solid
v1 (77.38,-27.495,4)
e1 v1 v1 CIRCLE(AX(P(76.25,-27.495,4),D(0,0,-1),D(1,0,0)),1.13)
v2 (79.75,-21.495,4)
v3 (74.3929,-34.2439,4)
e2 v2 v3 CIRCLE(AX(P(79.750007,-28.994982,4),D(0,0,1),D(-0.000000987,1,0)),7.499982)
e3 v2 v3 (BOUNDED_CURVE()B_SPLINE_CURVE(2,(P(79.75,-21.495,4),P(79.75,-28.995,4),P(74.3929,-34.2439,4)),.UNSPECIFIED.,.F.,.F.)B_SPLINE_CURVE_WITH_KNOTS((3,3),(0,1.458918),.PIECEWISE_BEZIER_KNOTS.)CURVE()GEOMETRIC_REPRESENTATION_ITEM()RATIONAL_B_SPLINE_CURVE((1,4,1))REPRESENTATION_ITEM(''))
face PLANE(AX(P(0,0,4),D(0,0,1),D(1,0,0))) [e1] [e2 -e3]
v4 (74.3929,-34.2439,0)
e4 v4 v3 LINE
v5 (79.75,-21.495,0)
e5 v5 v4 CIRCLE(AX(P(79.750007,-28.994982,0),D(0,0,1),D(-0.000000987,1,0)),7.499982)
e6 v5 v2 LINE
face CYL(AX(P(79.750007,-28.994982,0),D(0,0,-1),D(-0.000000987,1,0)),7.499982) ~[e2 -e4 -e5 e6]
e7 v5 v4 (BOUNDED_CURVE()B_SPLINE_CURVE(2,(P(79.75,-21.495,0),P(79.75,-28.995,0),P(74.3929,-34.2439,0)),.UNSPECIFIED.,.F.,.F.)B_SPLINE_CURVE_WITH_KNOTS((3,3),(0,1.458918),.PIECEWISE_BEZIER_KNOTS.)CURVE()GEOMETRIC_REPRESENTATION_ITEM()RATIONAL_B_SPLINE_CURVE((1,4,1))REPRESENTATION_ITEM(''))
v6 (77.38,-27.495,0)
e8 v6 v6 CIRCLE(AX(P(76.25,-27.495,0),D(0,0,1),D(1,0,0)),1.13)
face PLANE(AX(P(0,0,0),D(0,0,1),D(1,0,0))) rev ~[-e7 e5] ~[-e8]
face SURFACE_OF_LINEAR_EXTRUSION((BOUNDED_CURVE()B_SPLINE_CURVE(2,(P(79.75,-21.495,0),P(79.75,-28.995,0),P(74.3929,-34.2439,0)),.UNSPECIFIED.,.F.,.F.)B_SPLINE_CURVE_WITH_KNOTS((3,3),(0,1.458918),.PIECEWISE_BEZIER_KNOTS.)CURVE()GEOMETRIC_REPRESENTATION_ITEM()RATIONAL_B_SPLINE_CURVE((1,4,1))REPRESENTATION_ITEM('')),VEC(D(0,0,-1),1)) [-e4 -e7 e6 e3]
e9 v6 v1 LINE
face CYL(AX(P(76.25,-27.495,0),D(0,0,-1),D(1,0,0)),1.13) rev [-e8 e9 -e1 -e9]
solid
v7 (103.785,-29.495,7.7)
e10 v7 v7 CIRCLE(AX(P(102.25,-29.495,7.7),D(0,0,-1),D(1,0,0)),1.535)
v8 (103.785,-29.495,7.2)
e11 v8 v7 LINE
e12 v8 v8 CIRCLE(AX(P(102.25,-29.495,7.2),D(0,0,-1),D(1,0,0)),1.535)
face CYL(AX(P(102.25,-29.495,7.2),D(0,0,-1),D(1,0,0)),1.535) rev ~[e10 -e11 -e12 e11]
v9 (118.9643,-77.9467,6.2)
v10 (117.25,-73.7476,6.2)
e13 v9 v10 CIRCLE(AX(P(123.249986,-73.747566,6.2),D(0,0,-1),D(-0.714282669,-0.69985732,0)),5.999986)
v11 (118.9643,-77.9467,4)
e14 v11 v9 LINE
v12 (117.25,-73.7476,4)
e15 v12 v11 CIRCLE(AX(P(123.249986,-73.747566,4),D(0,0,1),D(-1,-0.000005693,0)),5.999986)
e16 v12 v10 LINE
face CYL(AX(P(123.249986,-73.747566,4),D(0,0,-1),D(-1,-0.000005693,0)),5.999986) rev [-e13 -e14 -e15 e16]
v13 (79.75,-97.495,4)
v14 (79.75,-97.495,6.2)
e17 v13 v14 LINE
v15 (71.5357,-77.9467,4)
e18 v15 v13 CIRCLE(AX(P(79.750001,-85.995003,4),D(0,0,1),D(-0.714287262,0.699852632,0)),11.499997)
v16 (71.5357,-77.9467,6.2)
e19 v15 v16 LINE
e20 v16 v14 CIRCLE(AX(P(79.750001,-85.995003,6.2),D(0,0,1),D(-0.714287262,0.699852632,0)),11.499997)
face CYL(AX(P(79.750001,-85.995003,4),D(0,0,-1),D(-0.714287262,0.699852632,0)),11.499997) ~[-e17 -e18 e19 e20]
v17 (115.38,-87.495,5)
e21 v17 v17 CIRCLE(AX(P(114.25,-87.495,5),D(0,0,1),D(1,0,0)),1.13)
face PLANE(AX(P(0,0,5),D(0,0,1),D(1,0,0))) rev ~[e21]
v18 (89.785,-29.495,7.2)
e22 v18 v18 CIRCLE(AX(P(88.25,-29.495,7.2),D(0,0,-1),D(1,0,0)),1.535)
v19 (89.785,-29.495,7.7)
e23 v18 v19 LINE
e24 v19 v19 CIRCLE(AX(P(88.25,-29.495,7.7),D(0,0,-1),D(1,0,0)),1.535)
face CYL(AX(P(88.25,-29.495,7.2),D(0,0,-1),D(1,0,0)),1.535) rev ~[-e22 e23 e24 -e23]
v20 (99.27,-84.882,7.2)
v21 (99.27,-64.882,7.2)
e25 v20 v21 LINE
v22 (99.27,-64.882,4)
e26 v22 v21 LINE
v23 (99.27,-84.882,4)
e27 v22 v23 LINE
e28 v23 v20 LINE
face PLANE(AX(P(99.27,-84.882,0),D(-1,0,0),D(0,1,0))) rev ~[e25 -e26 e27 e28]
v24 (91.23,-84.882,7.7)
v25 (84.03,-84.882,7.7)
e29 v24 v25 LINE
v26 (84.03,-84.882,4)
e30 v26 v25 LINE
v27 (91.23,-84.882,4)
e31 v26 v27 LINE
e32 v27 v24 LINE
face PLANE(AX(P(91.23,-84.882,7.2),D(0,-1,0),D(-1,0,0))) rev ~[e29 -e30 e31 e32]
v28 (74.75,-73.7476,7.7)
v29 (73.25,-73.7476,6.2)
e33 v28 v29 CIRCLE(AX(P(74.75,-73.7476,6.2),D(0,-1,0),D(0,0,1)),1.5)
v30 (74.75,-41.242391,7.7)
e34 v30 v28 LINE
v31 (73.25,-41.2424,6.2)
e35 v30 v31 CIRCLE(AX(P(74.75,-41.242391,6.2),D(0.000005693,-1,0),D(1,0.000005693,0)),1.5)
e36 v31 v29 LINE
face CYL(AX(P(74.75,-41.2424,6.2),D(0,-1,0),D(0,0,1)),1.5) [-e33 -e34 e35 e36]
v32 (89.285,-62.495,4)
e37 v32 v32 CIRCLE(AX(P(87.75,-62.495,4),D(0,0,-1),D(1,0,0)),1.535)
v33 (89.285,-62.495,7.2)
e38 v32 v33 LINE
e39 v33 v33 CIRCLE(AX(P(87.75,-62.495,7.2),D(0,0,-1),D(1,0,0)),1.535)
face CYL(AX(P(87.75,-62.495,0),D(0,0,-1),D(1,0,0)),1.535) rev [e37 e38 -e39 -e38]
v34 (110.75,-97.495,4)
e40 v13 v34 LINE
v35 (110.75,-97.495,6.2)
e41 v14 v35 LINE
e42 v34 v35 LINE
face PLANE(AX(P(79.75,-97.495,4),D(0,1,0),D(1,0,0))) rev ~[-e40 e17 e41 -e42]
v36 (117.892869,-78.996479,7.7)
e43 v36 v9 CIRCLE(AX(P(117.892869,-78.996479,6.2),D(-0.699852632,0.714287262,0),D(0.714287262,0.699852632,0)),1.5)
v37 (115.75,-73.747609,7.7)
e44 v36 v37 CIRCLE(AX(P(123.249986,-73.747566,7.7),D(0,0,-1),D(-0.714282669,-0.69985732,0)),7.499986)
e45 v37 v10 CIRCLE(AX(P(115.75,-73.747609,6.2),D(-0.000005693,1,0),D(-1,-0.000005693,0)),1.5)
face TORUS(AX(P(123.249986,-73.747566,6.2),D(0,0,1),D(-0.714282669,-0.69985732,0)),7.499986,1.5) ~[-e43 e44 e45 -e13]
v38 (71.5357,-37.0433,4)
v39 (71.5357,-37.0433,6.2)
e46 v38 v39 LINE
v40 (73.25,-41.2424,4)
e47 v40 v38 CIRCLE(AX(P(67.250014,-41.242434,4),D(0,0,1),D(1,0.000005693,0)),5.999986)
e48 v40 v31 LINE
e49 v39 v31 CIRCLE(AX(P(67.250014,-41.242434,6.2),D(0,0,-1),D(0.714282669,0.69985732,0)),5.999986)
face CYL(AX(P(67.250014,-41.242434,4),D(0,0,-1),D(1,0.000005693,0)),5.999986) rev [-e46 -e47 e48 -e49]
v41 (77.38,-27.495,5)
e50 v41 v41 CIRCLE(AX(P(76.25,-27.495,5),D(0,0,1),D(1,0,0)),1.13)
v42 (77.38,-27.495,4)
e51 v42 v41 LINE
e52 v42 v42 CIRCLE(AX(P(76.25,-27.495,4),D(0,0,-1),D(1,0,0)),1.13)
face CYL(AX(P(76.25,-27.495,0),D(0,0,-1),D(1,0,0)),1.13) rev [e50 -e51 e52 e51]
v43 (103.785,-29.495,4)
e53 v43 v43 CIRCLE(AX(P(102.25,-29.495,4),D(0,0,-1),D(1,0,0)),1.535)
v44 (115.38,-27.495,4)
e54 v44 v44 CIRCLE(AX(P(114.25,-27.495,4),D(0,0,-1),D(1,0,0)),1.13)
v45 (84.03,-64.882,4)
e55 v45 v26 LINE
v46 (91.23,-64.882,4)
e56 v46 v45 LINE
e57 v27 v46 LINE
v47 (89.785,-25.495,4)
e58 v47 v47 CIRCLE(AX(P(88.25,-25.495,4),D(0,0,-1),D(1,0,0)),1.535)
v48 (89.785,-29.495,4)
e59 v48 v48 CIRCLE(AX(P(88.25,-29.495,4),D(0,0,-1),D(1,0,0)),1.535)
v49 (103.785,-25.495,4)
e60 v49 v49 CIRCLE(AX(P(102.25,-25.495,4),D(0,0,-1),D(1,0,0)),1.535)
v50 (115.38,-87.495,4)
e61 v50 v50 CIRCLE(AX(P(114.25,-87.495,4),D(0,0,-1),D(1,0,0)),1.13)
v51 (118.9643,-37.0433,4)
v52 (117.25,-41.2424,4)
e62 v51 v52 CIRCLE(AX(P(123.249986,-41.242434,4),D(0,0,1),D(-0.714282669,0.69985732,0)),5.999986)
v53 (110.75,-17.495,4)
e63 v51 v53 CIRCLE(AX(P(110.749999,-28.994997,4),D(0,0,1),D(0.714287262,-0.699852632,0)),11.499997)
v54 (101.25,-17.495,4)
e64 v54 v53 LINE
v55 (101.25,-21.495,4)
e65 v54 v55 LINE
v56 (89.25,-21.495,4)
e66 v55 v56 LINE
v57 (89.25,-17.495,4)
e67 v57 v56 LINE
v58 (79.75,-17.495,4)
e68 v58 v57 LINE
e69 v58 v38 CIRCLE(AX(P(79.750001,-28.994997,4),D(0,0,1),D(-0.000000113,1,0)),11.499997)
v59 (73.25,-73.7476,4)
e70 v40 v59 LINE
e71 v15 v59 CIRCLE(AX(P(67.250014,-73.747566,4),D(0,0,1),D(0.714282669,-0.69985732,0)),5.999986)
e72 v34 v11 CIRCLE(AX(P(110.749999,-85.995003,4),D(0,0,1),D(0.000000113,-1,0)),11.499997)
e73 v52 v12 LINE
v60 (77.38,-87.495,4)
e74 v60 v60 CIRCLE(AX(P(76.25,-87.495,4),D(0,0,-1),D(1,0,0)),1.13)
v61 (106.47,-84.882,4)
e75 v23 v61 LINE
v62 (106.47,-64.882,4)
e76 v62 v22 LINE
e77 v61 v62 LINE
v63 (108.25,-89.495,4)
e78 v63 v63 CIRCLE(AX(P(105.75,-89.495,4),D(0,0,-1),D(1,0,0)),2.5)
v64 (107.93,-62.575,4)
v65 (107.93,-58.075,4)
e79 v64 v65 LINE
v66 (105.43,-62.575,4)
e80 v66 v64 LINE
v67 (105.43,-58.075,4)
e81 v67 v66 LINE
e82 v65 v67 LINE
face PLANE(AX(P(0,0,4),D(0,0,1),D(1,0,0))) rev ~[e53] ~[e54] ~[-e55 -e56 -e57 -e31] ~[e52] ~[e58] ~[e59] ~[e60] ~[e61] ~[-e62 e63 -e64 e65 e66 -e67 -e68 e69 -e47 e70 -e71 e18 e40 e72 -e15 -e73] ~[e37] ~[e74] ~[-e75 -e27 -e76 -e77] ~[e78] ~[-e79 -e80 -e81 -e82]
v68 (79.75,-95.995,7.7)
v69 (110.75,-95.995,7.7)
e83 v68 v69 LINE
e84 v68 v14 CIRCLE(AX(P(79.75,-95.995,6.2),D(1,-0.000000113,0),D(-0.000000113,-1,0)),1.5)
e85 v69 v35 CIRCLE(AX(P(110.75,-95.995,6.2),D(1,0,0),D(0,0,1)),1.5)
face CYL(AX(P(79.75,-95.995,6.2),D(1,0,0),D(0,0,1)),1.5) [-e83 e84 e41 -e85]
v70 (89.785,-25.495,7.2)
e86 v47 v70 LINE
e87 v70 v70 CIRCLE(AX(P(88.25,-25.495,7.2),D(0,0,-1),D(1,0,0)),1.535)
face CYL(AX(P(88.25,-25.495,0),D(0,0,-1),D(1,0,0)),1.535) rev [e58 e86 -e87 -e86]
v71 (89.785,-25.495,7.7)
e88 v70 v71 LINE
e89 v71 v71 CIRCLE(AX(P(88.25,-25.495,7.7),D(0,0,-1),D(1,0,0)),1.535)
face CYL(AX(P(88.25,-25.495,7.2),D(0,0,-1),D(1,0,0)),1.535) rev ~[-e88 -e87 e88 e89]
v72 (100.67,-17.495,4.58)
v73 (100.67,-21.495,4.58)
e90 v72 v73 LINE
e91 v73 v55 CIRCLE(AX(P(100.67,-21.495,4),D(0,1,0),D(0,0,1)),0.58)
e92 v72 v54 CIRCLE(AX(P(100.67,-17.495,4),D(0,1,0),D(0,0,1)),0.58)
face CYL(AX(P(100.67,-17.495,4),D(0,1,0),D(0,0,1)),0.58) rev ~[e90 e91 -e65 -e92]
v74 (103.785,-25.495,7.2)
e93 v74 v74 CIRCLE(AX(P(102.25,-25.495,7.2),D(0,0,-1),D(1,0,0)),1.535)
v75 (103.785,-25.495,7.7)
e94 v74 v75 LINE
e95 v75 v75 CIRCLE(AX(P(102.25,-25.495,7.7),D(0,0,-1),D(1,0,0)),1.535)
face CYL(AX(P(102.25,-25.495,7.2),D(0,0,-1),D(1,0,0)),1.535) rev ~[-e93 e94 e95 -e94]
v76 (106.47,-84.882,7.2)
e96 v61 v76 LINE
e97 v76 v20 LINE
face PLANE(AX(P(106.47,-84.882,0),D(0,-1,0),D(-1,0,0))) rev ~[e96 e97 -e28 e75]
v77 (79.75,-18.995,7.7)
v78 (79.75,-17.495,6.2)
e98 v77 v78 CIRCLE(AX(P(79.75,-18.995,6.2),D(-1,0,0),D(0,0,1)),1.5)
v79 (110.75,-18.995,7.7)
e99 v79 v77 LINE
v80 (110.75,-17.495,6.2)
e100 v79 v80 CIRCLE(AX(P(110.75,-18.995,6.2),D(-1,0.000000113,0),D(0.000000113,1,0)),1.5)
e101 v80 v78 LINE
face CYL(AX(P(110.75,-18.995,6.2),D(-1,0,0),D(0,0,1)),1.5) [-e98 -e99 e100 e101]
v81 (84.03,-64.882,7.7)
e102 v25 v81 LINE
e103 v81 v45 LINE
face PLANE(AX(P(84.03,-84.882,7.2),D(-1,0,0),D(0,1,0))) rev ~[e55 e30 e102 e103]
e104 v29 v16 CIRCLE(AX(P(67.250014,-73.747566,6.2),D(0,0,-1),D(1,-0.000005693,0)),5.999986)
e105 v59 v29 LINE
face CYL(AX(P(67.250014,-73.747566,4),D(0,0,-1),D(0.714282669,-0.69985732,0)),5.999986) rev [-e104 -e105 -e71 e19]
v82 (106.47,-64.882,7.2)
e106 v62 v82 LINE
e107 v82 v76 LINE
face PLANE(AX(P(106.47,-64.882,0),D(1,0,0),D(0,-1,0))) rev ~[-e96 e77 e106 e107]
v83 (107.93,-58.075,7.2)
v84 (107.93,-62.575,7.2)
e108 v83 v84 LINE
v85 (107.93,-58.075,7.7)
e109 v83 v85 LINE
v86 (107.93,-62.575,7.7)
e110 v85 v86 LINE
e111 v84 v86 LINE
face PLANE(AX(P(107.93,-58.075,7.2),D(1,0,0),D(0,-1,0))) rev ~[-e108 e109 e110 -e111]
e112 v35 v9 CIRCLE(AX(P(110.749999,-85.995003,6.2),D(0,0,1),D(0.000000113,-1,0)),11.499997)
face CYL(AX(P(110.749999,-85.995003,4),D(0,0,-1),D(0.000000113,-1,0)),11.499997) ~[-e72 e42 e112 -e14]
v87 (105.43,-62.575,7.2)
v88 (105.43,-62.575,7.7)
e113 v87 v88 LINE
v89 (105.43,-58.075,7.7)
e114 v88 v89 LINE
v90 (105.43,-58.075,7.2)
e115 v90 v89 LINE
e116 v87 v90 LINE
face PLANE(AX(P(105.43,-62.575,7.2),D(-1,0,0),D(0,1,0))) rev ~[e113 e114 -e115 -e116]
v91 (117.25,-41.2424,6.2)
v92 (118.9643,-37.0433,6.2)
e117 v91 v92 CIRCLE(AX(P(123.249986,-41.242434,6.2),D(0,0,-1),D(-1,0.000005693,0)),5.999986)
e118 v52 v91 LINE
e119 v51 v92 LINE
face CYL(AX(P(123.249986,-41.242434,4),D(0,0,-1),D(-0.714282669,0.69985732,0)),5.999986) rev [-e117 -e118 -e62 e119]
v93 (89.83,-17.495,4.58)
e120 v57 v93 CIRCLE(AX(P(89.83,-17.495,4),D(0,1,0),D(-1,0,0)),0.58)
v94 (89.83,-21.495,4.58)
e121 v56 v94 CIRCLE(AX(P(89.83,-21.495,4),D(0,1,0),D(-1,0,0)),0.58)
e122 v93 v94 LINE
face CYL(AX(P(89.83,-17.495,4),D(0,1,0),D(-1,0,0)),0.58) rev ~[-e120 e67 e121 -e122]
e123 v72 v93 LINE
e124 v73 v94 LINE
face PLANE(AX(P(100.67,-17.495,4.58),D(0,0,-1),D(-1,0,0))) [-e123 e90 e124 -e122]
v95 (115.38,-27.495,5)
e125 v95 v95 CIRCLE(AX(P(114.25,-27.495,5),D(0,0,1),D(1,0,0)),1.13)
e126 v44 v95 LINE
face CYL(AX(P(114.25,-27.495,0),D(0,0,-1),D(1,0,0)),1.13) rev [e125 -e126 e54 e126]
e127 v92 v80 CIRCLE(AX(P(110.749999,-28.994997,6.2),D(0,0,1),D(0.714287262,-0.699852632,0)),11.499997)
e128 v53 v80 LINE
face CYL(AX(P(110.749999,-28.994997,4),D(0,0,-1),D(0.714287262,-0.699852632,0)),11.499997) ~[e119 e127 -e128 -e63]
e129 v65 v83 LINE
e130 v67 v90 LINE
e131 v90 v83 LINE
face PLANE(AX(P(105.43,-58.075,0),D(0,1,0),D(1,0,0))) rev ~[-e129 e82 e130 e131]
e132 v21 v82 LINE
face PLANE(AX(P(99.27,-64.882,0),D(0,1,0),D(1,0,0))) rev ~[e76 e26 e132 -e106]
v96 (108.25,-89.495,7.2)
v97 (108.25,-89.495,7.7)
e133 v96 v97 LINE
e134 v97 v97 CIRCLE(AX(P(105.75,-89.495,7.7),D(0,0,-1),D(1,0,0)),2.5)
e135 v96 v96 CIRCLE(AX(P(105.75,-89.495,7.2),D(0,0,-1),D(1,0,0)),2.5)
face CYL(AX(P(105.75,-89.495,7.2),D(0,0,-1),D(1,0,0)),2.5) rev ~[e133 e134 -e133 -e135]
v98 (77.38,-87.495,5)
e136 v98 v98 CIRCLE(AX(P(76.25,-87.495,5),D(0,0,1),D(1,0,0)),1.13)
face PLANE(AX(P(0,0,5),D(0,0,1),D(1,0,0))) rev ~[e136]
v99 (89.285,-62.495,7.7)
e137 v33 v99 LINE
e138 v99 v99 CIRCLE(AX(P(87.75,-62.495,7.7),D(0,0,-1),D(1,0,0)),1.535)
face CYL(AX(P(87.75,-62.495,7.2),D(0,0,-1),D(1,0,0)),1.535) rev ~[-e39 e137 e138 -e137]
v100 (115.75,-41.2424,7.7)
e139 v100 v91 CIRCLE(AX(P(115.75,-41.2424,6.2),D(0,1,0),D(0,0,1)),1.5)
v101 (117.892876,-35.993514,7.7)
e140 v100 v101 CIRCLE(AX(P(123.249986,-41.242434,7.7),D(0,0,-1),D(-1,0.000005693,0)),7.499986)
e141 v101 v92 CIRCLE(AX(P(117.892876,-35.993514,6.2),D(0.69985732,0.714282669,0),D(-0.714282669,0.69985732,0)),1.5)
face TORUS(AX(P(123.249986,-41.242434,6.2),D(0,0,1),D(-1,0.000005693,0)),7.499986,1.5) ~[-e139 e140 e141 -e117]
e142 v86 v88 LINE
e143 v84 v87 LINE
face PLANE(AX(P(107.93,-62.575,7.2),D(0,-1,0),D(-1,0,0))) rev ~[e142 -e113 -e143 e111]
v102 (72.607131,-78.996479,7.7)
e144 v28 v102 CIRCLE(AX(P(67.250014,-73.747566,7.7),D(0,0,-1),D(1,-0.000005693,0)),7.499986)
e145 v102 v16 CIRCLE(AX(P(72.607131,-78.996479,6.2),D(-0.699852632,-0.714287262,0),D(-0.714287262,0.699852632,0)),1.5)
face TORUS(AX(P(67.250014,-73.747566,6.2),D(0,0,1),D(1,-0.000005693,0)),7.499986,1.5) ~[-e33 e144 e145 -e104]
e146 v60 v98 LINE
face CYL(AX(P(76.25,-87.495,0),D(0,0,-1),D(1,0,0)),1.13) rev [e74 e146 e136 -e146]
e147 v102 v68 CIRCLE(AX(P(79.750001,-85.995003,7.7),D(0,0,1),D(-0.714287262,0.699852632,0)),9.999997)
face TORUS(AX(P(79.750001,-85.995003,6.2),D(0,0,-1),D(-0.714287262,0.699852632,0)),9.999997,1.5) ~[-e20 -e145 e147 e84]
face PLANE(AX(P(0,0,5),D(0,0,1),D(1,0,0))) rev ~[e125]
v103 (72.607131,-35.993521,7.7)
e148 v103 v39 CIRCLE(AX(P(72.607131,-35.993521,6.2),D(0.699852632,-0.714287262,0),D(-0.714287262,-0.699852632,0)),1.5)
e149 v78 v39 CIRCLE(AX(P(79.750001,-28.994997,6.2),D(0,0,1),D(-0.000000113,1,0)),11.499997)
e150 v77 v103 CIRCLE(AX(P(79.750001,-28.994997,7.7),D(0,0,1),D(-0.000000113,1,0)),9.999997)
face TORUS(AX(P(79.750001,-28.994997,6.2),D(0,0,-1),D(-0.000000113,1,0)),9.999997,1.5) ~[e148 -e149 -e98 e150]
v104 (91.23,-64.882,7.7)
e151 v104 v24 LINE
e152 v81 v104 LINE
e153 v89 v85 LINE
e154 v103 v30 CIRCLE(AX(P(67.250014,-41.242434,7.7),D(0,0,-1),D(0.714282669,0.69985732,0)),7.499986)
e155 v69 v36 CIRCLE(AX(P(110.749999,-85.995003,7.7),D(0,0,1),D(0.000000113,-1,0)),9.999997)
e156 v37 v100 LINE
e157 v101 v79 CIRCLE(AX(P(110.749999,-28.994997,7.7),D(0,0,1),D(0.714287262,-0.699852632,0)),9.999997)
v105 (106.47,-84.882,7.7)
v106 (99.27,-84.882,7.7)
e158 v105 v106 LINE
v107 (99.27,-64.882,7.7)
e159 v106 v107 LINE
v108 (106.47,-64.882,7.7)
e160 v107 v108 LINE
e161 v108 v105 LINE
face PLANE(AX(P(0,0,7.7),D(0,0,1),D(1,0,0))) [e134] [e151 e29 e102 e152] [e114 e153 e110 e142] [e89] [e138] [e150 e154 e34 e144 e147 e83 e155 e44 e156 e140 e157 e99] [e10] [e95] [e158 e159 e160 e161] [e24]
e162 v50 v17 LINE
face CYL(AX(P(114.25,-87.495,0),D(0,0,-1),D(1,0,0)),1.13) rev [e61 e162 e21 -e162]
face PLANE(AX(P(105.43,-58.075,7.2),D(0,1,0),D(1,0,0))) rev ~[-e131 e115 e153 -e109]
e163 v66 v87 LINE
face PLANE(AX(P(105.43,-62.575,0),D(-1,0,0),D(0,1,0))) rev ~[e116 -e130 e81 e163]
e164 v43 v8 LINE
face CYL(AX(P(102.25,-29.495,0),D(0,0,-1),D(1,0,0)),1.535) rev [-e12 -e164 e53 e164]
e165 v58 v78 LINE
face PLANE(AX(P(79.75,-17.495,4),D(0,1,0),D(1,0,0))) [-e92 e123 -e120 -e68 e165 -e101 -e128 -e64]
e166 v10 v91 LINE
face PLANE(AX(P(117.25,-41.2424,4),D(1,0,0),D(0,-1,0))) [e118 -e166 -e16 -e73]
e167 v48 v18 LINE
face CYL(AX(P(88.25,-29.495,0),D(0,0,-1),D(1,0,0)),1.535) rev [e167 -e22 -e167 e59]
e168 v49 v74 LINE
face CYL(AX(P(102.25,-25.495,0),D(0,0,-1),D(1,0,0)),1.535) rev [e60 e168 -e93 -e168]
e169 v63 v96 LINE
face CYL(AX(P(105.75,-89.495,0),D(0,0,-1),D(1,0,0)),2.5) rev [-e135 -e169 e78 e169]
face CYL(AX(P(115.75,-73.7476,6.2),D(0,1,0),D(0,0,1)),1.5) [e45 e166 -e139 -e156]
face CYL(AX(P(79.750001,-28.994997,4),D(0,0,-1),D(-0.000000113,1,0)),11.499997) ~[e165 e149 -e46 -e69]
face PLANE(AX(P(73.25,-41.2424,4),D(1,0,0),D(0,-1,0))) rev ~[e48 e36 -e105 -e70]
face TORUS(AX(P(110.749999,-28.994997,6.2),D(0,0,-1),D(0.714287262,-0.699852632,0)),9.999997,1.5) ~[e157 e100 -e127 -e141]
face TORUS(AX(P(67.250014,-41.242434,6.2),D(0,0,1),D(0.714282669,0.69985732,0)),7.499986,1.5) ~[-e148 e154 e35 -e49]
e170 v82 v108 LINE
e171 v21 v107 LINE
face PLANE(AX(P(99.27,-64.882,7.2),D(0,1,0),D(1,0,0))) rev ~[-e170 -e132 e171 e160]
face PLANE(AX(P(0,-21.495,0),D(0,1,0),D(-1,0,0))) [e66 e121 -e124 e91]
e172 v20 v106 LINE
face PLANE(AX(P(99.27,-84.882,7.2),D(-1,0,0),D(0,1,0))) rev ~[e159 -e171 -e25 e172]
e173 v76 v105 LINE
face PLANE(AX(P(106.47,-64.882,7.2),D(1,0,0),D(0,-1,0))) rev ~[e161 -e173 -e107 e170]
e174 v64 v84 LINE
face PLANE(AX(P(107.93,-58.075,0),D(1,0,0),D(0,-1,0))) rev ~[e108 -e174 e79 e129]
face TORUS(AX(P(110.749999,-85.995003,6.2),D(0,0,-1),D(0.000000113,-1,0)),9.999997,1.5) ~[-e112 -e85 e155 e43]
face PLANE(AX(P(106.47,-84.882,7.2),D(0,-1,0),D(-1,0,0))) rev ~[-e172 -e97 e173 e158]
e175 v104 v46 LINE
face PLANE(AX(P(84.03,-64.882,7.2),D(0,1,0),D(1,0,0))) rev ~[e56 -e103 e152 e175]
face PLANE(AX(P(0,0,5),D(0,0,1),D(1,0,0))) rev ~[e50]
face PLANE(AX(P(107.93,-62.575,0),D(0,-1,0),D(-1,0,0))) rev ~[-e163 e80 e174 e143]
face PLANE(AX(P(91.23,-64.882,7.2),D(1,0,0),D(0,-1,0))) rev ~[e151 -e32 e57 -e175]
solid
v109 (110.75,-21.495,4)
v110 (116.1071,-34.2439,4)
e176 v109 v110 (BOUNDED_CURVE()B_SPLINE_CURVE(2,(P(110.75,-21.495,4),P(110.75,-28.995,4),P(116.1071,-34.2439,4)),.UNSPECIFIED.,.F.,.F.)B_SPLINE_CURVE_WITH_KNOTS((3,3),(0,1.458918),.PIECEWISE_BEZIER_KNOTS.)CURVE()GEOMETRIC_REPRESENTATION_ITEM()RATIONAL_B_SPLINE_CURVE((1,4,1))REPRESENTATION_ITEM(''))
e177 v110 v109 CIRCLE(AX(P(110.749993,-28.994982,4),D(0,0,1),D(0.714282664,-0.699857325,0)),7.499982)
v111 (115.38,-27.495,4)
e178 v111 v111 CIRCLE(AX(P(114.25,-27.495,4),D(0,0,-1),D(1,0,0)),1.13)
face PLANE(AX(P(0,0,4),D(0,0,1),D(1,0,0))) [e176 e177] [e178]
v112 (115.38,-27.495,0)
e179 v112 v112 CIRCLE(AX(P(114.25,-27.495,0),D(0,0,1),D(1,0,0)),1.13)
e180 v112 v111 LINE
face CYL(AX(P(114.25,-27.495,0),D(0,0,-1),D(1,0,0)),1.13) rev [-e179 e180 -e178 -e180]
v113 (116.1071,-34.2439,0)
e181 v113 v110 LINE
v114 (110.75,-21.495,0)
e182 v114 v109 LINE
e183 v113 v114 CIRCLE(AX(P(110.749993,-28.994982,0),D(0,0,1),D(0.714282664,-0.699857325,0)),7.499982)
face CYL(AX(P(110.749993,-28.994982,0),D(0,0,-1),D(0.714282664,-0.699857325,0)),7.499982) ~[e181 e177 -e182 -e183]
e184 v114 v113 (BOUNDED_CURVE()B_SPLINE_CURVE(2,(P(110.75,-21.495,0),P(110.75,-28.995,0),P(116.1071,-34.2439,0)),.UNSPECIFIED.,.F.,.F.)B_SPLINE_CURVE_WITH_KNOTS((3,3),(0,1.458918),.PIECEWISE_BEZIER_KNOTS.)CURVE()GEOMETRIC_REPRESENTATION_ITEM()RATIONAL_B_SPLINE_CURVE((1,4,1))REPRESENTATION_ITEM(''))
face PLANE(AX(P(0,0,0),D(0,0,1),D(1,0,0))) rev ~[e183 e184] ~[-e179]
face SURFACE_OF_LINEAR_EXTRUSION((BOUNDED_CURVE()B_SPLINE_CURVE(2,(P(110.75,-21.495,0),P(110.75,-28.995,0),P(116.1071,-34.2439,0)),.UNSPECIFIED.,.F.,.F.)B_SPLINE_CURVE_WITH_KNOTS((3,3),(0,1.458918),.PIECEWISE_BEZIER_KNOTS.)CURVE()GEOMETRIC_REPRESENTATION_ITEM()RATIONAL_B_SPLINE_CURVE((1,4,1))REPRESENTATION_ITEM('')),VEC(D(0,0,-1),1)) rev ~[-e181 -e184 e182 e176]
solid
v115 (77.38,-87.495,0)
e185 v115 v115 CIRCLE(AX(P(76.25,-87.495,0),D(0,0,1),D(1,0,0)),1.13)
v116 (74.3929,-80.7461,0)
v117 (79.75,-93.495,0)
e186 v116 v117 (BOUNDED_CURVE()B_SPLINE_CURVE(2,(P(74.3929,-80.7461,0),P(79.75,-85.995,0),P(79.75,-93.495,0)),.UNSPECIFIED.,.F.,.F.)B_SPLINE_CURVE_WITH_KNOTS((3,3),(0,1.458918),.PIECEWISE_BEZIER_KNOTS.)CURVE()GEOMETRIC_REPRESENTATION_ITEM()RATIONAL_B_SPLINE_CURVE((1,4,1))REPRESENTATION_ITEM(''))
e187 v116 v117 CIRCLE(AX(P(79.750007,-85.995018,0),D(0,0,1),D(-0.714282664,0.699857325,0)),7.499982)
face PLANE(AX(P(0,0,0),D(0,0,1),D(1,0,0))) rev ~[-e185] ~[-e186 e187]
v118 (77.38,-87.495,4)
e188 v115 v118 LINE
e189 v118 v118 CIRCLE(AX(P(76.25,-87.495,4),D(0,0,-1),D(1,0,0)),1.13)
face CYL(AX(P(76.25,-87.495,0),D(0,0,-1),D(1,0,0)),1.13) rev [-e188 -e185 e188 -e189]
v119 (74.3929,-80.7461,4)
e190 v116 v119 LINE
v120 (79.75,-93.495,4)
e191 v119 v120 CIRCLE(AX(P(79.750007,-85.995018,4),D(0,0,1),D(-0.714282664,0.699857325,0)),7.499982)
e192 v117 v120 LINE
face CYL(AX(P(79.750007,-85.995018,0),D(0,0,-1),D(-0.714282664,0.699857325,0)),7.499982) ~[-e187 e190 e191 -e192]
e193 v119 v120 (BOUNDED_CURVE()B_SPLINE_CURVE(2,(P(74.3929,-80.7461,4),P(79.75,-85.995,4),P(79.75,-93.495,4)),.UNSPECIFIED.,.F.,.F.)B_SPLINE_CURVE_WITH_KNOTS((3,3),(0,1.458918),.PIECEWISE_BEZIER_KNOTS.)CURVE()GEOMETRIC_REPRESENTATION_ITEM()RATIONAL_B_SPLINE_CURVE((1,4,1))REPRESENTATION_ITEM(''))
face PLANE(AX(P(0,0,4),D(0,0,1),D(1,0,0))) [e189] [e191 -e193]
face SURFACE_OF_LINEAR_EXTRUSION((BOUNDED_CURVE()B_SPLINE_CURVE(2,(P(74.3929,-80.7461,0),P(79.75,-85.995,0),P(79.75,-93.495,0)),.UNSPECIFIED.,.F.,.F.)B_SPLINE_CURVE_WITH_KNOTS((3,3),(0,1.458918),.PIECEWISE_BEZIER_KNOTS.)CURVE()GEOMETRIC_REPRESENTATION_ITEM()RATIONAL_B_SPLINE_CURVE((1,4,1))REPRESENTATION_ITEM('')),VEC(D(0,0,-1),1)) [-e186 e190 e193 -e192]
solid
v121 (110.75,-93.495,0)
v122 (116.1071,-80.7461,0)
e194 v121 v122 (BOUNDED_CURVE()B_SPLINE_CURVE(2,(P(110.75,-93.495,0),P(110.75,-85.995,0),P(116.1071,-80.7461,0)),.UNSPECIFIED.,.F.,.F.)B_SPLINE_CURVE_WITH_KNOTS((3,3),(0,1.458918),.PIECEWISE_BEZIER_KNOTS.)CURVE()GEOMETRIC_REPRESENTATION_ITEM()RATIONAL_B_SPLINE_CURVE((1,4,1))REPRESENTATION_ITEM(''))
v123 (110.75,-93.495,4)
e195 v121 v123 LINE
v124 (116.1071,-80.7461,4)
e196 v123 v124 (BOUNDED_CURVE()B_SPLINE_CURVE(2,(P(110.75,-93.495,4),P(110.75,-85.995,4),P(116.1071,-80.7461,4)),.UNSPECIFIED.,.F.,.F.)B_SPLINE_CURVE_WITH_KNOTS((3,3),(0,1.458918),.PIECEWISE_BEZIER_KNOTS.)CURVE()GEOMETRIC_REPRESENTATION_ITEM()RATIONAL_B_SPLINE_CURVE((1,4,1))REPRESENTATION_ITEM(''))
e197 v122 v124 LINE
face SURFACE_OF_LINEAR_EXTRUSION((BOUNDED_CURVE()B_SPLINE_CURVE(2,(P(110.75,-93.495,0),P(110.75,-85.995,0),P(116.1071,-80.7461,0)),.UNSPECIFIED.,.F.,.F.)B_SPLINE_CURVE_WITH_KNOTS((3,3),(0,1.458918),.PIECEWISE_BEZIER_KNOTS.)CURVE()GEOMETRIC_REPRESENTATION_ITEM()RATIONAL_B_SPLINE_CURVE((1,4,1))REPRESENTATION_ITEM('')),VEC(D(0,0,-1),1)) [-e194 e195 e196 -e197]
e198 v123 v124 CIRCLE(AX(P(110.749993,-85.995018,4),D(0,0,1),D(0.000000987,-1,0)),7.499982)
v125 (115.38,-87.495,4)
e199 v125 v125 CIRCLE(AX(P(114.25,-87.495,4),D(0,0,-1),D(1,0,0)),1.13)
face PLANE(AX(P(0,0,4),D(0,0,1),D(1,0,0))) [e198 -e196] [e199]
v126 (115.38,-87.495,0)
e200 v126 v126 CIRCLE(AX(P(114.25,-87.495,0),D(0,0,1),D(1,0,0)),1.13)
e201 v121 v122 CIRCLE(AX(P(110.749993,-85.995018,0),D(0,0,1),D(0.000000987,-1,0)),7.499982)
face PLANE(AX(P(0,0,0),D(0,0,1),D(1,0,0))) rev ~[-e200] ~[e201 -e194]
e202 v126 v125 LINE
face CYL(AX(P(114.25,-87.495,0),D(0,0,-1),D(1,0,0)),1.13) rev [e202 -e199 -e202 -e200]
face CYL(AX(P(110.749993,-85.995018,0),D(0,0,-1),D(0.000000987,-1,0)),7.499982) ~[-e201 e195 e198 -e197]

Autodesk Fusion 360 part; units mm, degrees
sketch "drawing" plane through (0, 0, 0) normal (0, 0, 1) x (1, 0, 0)
  circle A0 centre (76.25, -27.495) radius 1.5
  circle A1 centre (114.25, -27.495) radius 1.5
  circle A2 centre (76.25, -87.495) radius 1.5
  circle A3 centre (114.25, -87.495) radius 1.5
  line L0 (79.75, -21.495) -> (110.75, -21.495)
  line L1 (79.75, -93.495) -> (110.75, -93.495)
  line L2 (77.25, -41.2424) -> (77.25, -73.7476)
  line L3 (113.25, -41.2424) -> (113.25, -73.7476)
  arc A4 (79.75, -21.495) -> (74.3929, -34.2439) centre (79.75, -28.995) ccw
  arc A5 (116.1071, -34.2439) -> (110.75, -21.495) centre (110.75, -28.995) ccw
  arc A6 (74.3929, -80.7461) -> (79.75, -93.495) centre (79.75, -85.995) ccw
  arc A7 (110.75, -93.495) -> (116.1071, -80.7461) centre (110.75, -85.995) ccw
  circle A8 centre (76.25, -27.495) radius 3
  circle A9 centre (114.25, -27.495) radius 3
  circle A10 centre (76.25, -87.495) radius 3
  circle A11 centre (114.25, -87.495) radius 3
  line L4 (72.25, -21.495) -> (72.25, -93.495) construction
  line L5 (118.25, -21.495) -> (118.25, -93.495) construction
  circle A12 centre (88.25, -25.495) radius 1.535
  circle A13 centre (88.25, -29.495) radius 1.535
  circle A14 centre (83.25, -26.495) radius 1.5
  circle A15 centre (83.25, -34.995) radius 1.5
  line L6 (95.25, -21.495) -> (95.25, -93.495) construction
  line L7 (90.75, -21.495) -> (99.75, -21.495) construction
  line L8 (99.75, -21.495) -> (99.75, -28.995) construction
  line L9 (99.75, -28.995) -> (90.75, -28.995) construction
  line L10 (90.75, -28.995) -> (90.75, -21.495) construction
  circle A16 centre (106.68, -60.325) radius 0.25 construction
  line L11 (104.93, -55.8) -> (108.43, -55.8) construction
  line L12 (108.43, -55.8) -> (108.43, -64.85) construction
  line L13 (108.43, -64.85) -> (104.93, -64.85) construction
  line L14 (104.93, -64.85) -> (104.93, -55.8) construction
  arc A17 (77.25, -41.2424) -> (74.3929, -34.2439) centre (67.25, -41.2424) ccw
  line L15 (79.75, -28.995) -> (79.75, -21.495) construction
  line L16 (79.75, -28.995) -> (74.3929, -34.2439) construction
  line L17 (67.25, -41.2424) -> (77.25, -41.2424) construction
  line L18 (67.25, -41.2424) -> (74.3929, -34.2439) construction
  arc A18 (116.1071, -34.2439) -> (113.25, -41.2424) centre (123.25, -41.2424) ccw
  arc A19 (74.3929, -80.7461) -> (77.25, -73.7476) centre (67.25, -73.7476) ccw
  arc A20 (113.25, -73.7476) -> (116.1071, -80.7461) centre (123.25, -73.7476) ccw
  circle A21 centre (102.25, -25.495) radius 1.535
  circle A22 centre (102.25, -29.495) radius 1.535
  circle A23 centre (87.75, -62.495) radius 1.535
  line L19 (105.43, -58.075) -> (107.93, -58.075)
  line L20 (107.93, -58.075) -> (107.93, -62.575)
  line L21 (107.93, -62.575) -> (105.43, -62.575)
  line L22 (105.43, -62.575) -> (105.43, -58.075)
  line L23 (105.93, -60.575) -> (107.43, -60.575) construction
  line L24 (107.43, -60.575) -> (107.43, -62.075) construction
  line L25 (107.43, -62.075) -> (105.93, -62.075) construction
  line L26 (105.93, -62.075) -> (105.93, -60.575) construction
  line L27 (105.93, -58.575) -> (107.43, -58.575) construction
  line L28 (107.43, -58.575) -> (107.43, -60.075) construction
  line L29 (107.43, -60.075) -> (105.93, -60.075) construction
  line L30 (105.93, -60.075) -> (105.93, -58.575) construction
  line L31 (106.68, -60.075) -> (106.68, -60.575) construction
  line L32 (81, -24.245) -> (85.5, -24.245) construction
  line L33 (85.5, -24.245) -> (85.5, -28.745) construction
  line L34 (85.5, -28.745) -> (81, -28.745) construction
  line L35 (81, -28.745) -> (81, -24.245) construction
  circle A24 centre (88.25, -25.495) radius 1.9 construction
  circle A25 centre (88.25, -29.495) radius 1.9 construction
  circle A26 centre (102.25, -25.495) radius 1.9 construction
  circle A27 centre (102.25, -29.495) radius 1.9 construction
  circle A28 centre (87.75, -62.495) radius 1.9 construction
  line L36 (81, -32.745) -> (85.5, -32.745) construction
  line L37 (85.5, -32.745) -> (85.5, -37.245) construction
  line L38 (85.5, -37.245) -> (81, -37.245) construction
  line L39 (81, -37.245) -> (81, -32.745) construction
  circle A29 centre (107.25, -26.495) radius 1.5
  line L40 (105, -24.245) -> (109.5, -24.245) construction
  line L41 (109.5, -24.245) -> (109.5, -28.745) construction
  line L42 (109.5, -28.745) -> (105, -28.745) construction
  line L43 (105, -28.745) -> (105, -24.245) construction
  circle A30 centre (105.75, -89.495) radius 1.5
  line L44 (103.5, -87.245) -> (108, -87.245) construction
  line L45 (108, -87.245) -> (108, -91.745) construction
  line L46 (108, -91.745) -> (103.5, -91.745) construction
  line L47 (103.5, -91.745) -> (103.5, -87.245) construction
  line L48 (85.03, -65.882) -> (90.23, -65.882) construction
  line L49 (90.23, -65.882) -> (90.23, -83.882) construction
  line L50 (90.23, -83.882) -> (85.03, -83.882) construction
  line L51 (85.03, -83.882) -> (85.03, -65.882) construction
  line L52 (100.27, -65.882) -> (105.47, -65.882) construction
  line L53 (105.47, -65.882) -> (105.47, -83.882) construction
  line L54 (105.47, -83.882) -> (100.27, -83.882) construction
  line L55 (100.27, -83.882) -> (100.27, -65.882) construction
  line L56 (91.23, -64.882) -> (91.23, -84.882)
  line L57 (91.23, -84.882) -> (84.03, -84.882)
  line L58 (84.03, -84.882) -> (84.03, -64.882)
  line L59 (84.03, -64.882) -> (91.23, -64.882)
  line L60 (106.47, -84.882) -> (99.27, -84.882)
  line L61 (99.27, -84.882) -> (99.27, -64.882)
  line L62 (99.27, -64.882) -> (106.47, -64.882)
  line L63 (106.47, -64.882) -> (106.47, -84.882)
  point P0 (87.63, -74.882)
  point P1 (102.87, -74.882)
  dimension "d1" = 76.25
  dimension "d2" = 3
  dimension "d3" = 27.495
  dimension "d4" = 3
  dimension "d5" = 38
  dimension "d6" = 27.495
  dimension "d7" = 1.5
  dimension "d8" = 3.5
  dimension "d9" = 15
  dimension "d10" = 3.5
  dimension "d11" = 1.5
  dimension "d12" = 15
  dimension "d13" = 60
  dimension "d14" = 3
  dimension "d15" = 76.25
  dimension "d16" = 38
  dimension "d17" = 60
  dimension "d18" = 3
  dimension "d19" = 3.5
  dimension "d20" = 1.5
  dimension "d21" = 3.5
  dimension "d22" = 1.5
  dimension "d23" = 15
  dimension "d24" = 15
  dimension "d31" = 6
  dimension "d32" = 6
  dimension "d33" = 6
  dimension "d34" = 6
  dimension "d35" = 72
  dimension "d36" = 46
  dimension "d37" = 6
  dimension "d38" = 5
  dimension "d39" = 5
  dimension "d40" = 4
  dimension "d41" = 4
  dimension "d42" = 12
  dimension "d43" = 2
  dimension "d44" = 3.07
  dimension "d45" = 4
  dimension "d46" = 3.07
  dimension "d47" = 7
  dimension "d48" = 1
  dimension "d49" = 3
  dimension "d50" = 3
  dimension "d51" = 8.5
  dimension "d52" = 19
  dimension "d53" = 4.5
  dimension "d54" = 4.5
  dimension "d55" = 7.5
  dimension "d56" = 106.68
  dimension "d57" = 60.325
  dimension "d58" = 0.5
  dimension "d59" = 4.525
  dimension "d62" = 1.75
  dimension "d75" = 20
  dimension "d76" = 134.415
  dimension "d77" = 44.415
  dimension "d78" = 20
  dimension "d79" = 20
  dimension "d80" = 20
  dimension "d92" = 3.07
  dimension "d93" = 3.07
  dimension "d94" = 14
  dimension "d95" = 3.07
  dimension "d96" = 33
  dimension "d97" = 0.5
  dimension "d98" = 1.25
  dimension "d100" = 1.5
  dimension "d101" = 0.75
  dimension "d102" = 1.5
  dimension "d103" = 0.75
  dimension "d104" = 3.5
  dimension "d105" = 0.5
  dimension "d106" = 1.5
  dimension "d107" = 3.5
  dimension "d108" = 9.05
  dimension "d109" = 2.25
  dimension "d110" = 2.25
  dimension "d111" = 2.5
  dimension "d112" = 0.5
  dimension "d113" = 0.5
  dimension "d114" = 2.25
  dimension "d115" = 4.5
  dimension "d116" = 4.5
  dimension "d117" = 2.25
  dimension "d118" = 3.8
  dimension "d119" = 3.8
  dimension "d120" = 3.8
  dimension "d121" = 3.8
  dimension "d122" = 3.8
  dimension "d123" = 4.5
  dimension "d124" = 4.5
  dimension "d125" = 2.25
  dimension "d126" = 2.25
  dimension "d127" = 5
  dimension "d128" = 3
  dimension "d129" = 2.25
  dimension "d130" = 2.25
  dimension "d131" = 4.5
  dimension "d132" = 4.5
  dimension "d133" = 105.75
  dimension "d134" = 89.495
  dimension "d135" = 3
  dimension "d136" = 4.5
  dimension "d137" = 4.5
  dimension "d138" = 2.25
  dimension "d139" = 2.25
  dimension "d140" = 4
  dimension "d141" = 12.5
  dimension "d142" = 18
  dimension "d143" = 18
  dimension "d144" = 5.2
  dimension "d145" = 5.2
  dimension "d146" = 102.87
  dimension "d147" = 87.63
  dimension "d148" = 74.882
  dimension "d149" = 2.6
  dimension "d150" = 2.6
  dimension "d151" = 9
  dimension "d152" = 9
  dimension "d153" = -1
  dimension "d154" = -1
sketch "board_cutout" plane through (0, 0, 0) normal (0, 0, 1) x (1, 0, 0)
  circle A0 centre (76.25, -27.495) radius 1.5
  circle A1 centre (114.25, -27.495) radius 1.5
  circle A2 centre (76.25, -87.495) radius 1.5
  circle A3 centre (114.25, -87.495) radius 1.5
  line L0 (79.75, -21.495) -> (110.75, -21.495)
  arc A4 (79.75, -21.495) -> (74.3929, -34.2439) centre (79.75, -28.995) ccw
  arc A5 (77.25, -41.2424) -> (74.3929, -34.2439) centre (67.25, -41.2424) ccw
  line L1 (77.25, -41.2424) -> (77.25, -73.7476)
  arc A6 (74.3929, -80.7461) -> (77.25, -73.7476) centre (67.25, -73.7476) ccw
  arc A7 (74.3929, -80.7461) -> (79.75, -93.495) centre (79.75, -85.995) ccw
  line L2 (79.75, -93.495) -> (110.75, -93.495)
  arc A8 (110.75, -93.495) -> (116.1071, -80.7461) centre (110.75, -85.995) ccw
  arc A9 (113.25, -73.7476) -> (116.1071, -80.7461) centre (123.25, -73.7476) ccw
  line L3 (113.25, -41.2424) -> (113.25, -73.7476)
  arc A10 (116.1071, -34.2439) -> (113.25, -41.2424) centre (123.25, -41.2424) ccw
  arc A11 (116.1071, -34.2439) -> (110.75, -21.495) centre (110.75, -28.995) ccw
  dimension "d182" = 72
sketch "board_cutout_4mm_offset" plane through (0, 0, 0) normal (0, 0, 1) x (1, 0, 0)
  line L0 (79.75, -21.495) -> (110.75, -21.495) construction
  arc A0 (79.75, -21.495) -> (74.3929, -34.2439) centre (79.75, -28.995) ccw construction
  arc A1 (77.25, -41.2424) -> (74.3929, -34.2439) centre (67.25, -41.2424) ccw construction
  line L1 (77.25, -41.2424) -> (77.25, -73.7476) construction
  arc A2 (74.3929, -80.7461) -> (77.25, -73.7476) centre (67.25, -73.7476) ccw construction
  arc A3 (74.3929, -80.7461) -> (79.75, -93.495) centre (79.75, -85.995) ccw construction
  line L2 (79.75, -93.495) -> (110.75, -93.495) construction
  arc A4 (110.75, -93.495) -> (116.1071, -80.7461) centre (110.75, -85.995) ccw construction
  arc A5 (113.25, -73.7476) -> (116.1071, -80.7461) centre (123.25, -73.7476) ccw construction
  line L3 (113.25, -41.2424) -> (113.25, -73.7476) construction
  arc A6 (116.1071, -34.2439) -> (113.25, -41.2424) centre (123.25, -41.2424) ccw construction
  arc A7 (116.1071, -34.2439) -> (110.75, -21.495) centre (110.75, -28.995) ccw construction
  arc A8 (117.25, -73.7476) -> (118.9643, -77.9467) centre (123.25, -73.7476) ccw
  arc A9 (110.75, -97.495) -> (118.9643, -77.9467) centre (110.75, -85.995) ccw
  line L4 (79.75, -97.495) -> (110.75, -97.495)
  arc A10 (71.5357, -77.9467) -> (79.75, -97.495) centre (79.75, -85.995) ccw
  arc A11 (71.5357, -77.9467) -> (73.25, -73.7476) centre (67.25, -73.7476) ccw
  line L5 (73.25, -41.2424) -> (73.25, -73.7476)
  arc A12 (73.25, -41.2424) -> (71.5357, -37.0433) centre (67.25, -41.2424) ccw
  arc A13 (79.75, -17.495) -> (71.5357, -37.0433) centre (79.75, -28.995) ccw
  line L6 (79.75, -17.495) -> (110.75, -17.495)
  arc A14 (118.9643, -37.0433) -> (110.75, -17.495) centre (110.75, -28.995) ccw
  arc A15 (118.9643, -37.0433) -> (117.25, -41.2424) centre (123.25, -41.2424) ccw
  line L7 (117.25, -41.2424) -> (117.25, -73.7476)
  dimension "d81" = -4
  dimension "d183" = 80
sketch "pillars" plane through (0, 0, 0) normal (0, 0, 1) x (1, 0, 0)
  arc A0 (79.75, -21.495) -> (74.3929, -34.2439) centre (79.75, -28.995) ccw
  arc A1 (77.25, -41.2424) -> (74.3929, -34.2439) centre (67.25, -41.2424) ccw construction
  line L0 (77.25, -41.2424) -> (77.25, -73.7476) construction
  arc A2 (74.3929, -80.7461) -> (77.25, -73.7476) centre (67.25, -73.7476) ccw construction
  arc A3 (74.3929, -80.7461) -> (79.75, -93.495) centre (79.75, -85.995) ccw
  line L1 (79.75, -93.495) -> (110.75, -93.495) construction
  arc A4 (110.75, -93.495) -> (116.1071, -80.7461) centre (110.75, -85.995) ccw
  arc A5 (113.25, -73.7476) -> (116.1071, -80.7461) centre (123.25, -73.7476) ccw construction
  line L2 (113.25, -41.2424) -> (113.25, -73.7476) construction
  arc A6 (116.1071, -34.2439) -> (113.25, -41.2424) centre (123.25, -41.2424) ccw construction
  arc A7 (116.1071, -34.2439) -> (110.75, -21.495) centre (110.75, -28.995) ccw
  line L3 (79.75, -21.495) -> (110.75, -21.495) construction
  circle A8 centre (76.25, -27.495) radius 1.5 construction
  circle A9 centre (114.25, -27.495) radius 1.5 construction
  circle A10 centre (76.25, -27.495) radius 3 construction
  circle A11 centre (114.25, -27.495) radius 3 construction
  circle A12 centre (76.25, -87.495) radius 1.5 construction
  circle A13 centre (76.25, -87.495) radius 3 construction
  circle A14 centre (114.25, -87.495) radius 1.5 construction
  circle A15 centre (114.25, -87.495) radius 3 construction
  spline S0 degree 2 poles (79.75, -21.495) (79.75, -28.995) (74.3929, -34.2439) knots 0 0 0 1.458918 1.458918 1.458918 weights 1 4 1
  spline S1 degree 2 poles (110.75, -21.495) (110.75, -28.995) (116.1071, -34.2439) knots 0 0 0 1.458918 1.458918 1.458918 weights 1 4 1
  spline S2 degree 2 poles (74.3929, -80.7461) (79.75, -85.995) (79.75, -93.495) knots 0 0 0 1.458918 1.458918 1.458918 weights 1 4 1
  spline S3 degree 2 poles (110.75, -93.495) (110.75, -85.995) (116.1071, -80.7461) knots 0 0 0 1.458918 1.458918 1.458918 weights 1 4 1
  dimension "d181" = 72
sketch "srew_holes" plane through (0, 0, 0) normal (0, 0, 1) x (1, 0, 0)
  circle A0 centre (76.25, -27.495) radius 1.5
  circle A1 centre (114.25, -27.495) radius 1.5
  circle A2 centre (76.25, -87.495) radius 1.5
  circle A3 centre (114.25, -87.495) radius 1.5
  line L0 (79.75, -21.495) -> (110.75, -21.495)
  line L1 (79.75, -93.495) -> (110.75, -93.495)
  dimension "d178" = 72
  dimension "d179" = 72
  dimension "d180" = 31
extrude "Extrude5" add sketch "pillars" along normal blind 4 makes body 1 at (116.0352, -23.6737, 2.6667) makes body 2 at (118.1619, -87.1412, 2.6667) makes body 3 at (72.9424, -32.1424, 2.6667) makes body 4 at (72.403, -87.5019, 2.6667)
extrude "Extrude6" add sketch "board_cutout_4mm_offset" along normal blind 3.7 from surface at 4 separate body makes body 5
sketch "led_cutouts" plane through (0, 0, 0) normal (0, 0, 1) x (1, 0, 0)
  circle A0 centre (88.25, -25.495) radius 1.535
  circle A1 centre (88.25, -29.495) radius 1.535
  circle A2 centre (102.25, -25.495) radius 1.535
  circle A3 centre (102.25, -29.495) radius 1.535
  circle A4 centre (87.75, -62.495) radius 1.535
sketch "button_cutouts" plane through (0, 0, 0) normal (0, 0, 1) x (1, 0, 0)
  circle A0 centre (83.25, -26.495) radius 1.5 construction
  circle A1 centre (83.25, -34.995) radius 1.5 construction
  circle A2 centre (107.25, -26.495) radius 1.5 construction
  circle A3 centre (105.75, -89.495) radius 1.5 construction
  line L0 (105.43, -58.075) -> (107.93, -58.075)
  line L1 (105.43, -62.575) -> (105.43, -58.075)
  line L2 (107.93, -62.575) -> (105.43, -62.575)
  line L3 (107.93, -58.075) -> (107.93, -62.575)
  circle A4 centre (105.75, -89.495) radius 2.5
  dimension "d185" = 3
  dimension "d186" = 1
  dimension "d187" = 5
sketch "pinheader_cutouts" plane through (0, 0, 0) normal (0, 0, 1) x (1, 0, 0)
  line L0 (91.23, -84.882) -> (84.03, -84.882)
  line L1 (84.03, -84.882) -> (84.03, -64.882)
  line L2 (84.03, -64.882) -> (91.23, -64.882)
  line L3 (91.23, -64.882) -> (91.23, -84.882)
  line L4 (99.27, -64.882) -> (106.47, -64.882)
  line L5 (99.27, -84.882) -> (99.27, -64.882)
  line L6 (106.47, -84.882) -> (99.27, -84.882)
  line L7 (106.47, -64.882) -> (106.47, -84.882)
extrude "Extrude8" cut sketch "led_cutouts" along normal through all bodies 5
extrude "Extrude9" cut sketch "button_cutouts" along normal through all bodies 5
extrude "Extrude10" cut sketch "pinheader_cutouts" along normal through all bodies 5
sketch "screw_sinkholes" plane through (0, 0, 0) normal (0, 0, 1) x (1, 0, 0)
  circle A0 centre (76.25, -27.495) radius 1.5 construction
  circle A1 centre (114.25, -27.495) radius 1.5 construction
  circle A2 centre (76.25, -87.495) radius 1.5 construction
  circle A3 centre (114.25, -87.495) radius 1.5 construction
  circle A4 centre (76.25, -27.495) radius 3
  circle A5 centre (114.25, -27.495) radius 3
  circle A6 centre (76.25, -87.495) radius 3
  circle A7 centre (114.25, -87.495) radius 3
  dimension "d158" = 3
  dimension "d159" = 3
  dimension "d160" = 3
  dimension "d161" = 3
  dimension "d162" = 6
  dimension "d163" = 6
  dimension "d164" = 6
  dimension "d165" = 6
sketch "usb_cutout" plane through (0, -17.495, 0) normal (0, 1, 0) x (-1, 0, 0)
  line L0 (-110.75, 4) -> (-79.75, 4)
  line L1 (-79.75, 4) -> (-79.75, 7.7)
  line L2 (-79.75, 7.7) -> (-110.75, 7.7)
  line L3 (-110.75, 7.7) -> (-110.75, 4)
  line L4 (-100.67, 4.58) -> (-89.83, 4.58)
  line L5 (-89.25, 4) -> (-101.25, 4)
  arc A0 (-100.67, 4.58) -> (-101.25, 4) centre (-100.67, 4) ccw
  arc A1 (-89.25, 4) -> (-89.83, 4.58) centre (-89.83, 4) ccw
  dimension "d170" = 0.58
  dimension "d171" = 0.58
  dimension "d172" = 0.58
  dimension "d175" = 12
extrude "Extrude12" cut sketch "usb_cutout" against normal blind 4 contours L0 L4 L5 A0 A1 bodies 5
sketch "screw_holes_2.26mm" plane through (0, 0, 0) normal (0, 0, 1) x (1, 0, 0)
  circle A0 centre (76.25, -87.495) radius 1.5 construction
  circle A1 centre (114.25, -87.495) radius 1.5 construction
  circle A2 centre (114.25, -27.495) radius 1.5 construction
  circle A3 centre (76.25, -27.495) radius 1.5 construction
  circle A4 centre (76.25, -27.495) radius 1.13
  circle A5 centre (114.25, -27.495) radius 1.13
  circle A6 centre (76.25, -87.495) radius 1.13
  circle A7 centre (114.25, -87.495) radius 1.13
  dimension "d188" = 2.26
  dimension "d189" = 2.26
  dimension "d190" = 2.26
  dimension "d191" = 2.26
extrude "Extrude13" cut sketch "screw_holes_2.26mm" along normal blind 5 bodies 1 2 3 4 5
sketch "membrane_area" plane through (0, 0, 0) normal (0, 0, 1) x (1, 0, 0)
  arc A0 (79.75, -17.495) -> (71.5357, -37.0433) centre (79.75, -28.995) ccw construction
  line L0 (79.75, -17.495) -> (110.75, -17.495) construction
  arc A1 (118.9643, -37.0433) -> (110.75, -17.495) centre (110.75, -28.995) ccw construction
  arc A2 (118.9643, -37.0433) -> (117.25, -41.2424) centre (123.25, -41.2424) ccw construction
  line L1 (117.25, -41.2424) -> (117.25, -73.7476) construction
  arc A3 (117.25, -73.7476) -> (118.9643, -77.9467) centre (123.25, -73.7476) ccw construction
  arc A4 (110.75, -97.495) -> (118.9643, -77.9467) centre (110.75, -85.995) ccw construction
  line L2 (79.75, -97.495) -> (110.75, -97.495) construction
  arc A5 (71.5357, -77.9467) -> (79.75, -97.495) centre (79.75, -85.995) ccw construction
  arc A6 (71.5357, -77.9467) -> (73.25, -73.7476) centre (67.25, -73.7476) ccw construction
  line L3 (73.25, -41.2424) -> (73.25, -73.7476) construction
  arc A7 (73.25, -41.2424) -> (71.5357, -37.0433) centre (67.25, -41.2424) ccw construction
  arc A8 (114.25, -73.7476) -> (116.8214, -80.0462) centre (123.25, -73.7476) ccw
  arc A9 (110.75, -94.495) -> (116.8214, -80.0462) centre (110.75, -85.995) ccw
  line L4 (79.75, -94.495) -> (110.75, -94.495)
  arc A10 (73.6786, -80.0462) -> (79.75, -94.495) centre (79.75, -85.995) ccw
  arc A11 (73.6786, -80.0462) -> (76.25, -73.7476) centre (67.25, -73.7476) ccw
  line L5 (76.25, -41.2424) -> (76.25, -73.7476)
  arc A12 (76.25, -41.2424) -> (73.6786, -34.9438) centre (67.25, -41.2424) ccw
  arc A13 (79.75, -20.495) -> (73.6786, -34.9438) centre (79.75, -28.995) ccw
  line L6 (79.75, -20.495) -> (110.75, -20.495)
  arc A14 (116.8214, -34.9438) -> (110.75, -20.495) centre (110.75, -28.995) ccw
  arc A15 (116.8214, -34.9438) -> (114.25, -41.2424) centre (123.25, -41.2424) ccw
  line L7 (114.25, -41.2424) -> (114.25, -73.7476)
  dimension "d194" = 3
extrude "Extrude14" cut sketch "membrane_area" against normal blind 0.5 from surface at 7.7 bodies 5
fillet "Fillet1" radius 1.5 12 edges at (69.148, -90.45, 7.7) (95.25, -97.495, 7.7) (121.352, -90.45, 7.7) (117.6951, -76.0153, 7.7) (117.25, -57.495, 7.7) (117.6951, -38.9747, 7.7) (121.352, -24.54, 7.7) (95.25, -17.495, 7.7) (69.148, -24.54, 7.7) (72.8049, -38.9747, 7.7) (73.25, -57.495, 7.7) (72.8049, -76.0153, 7.7) on bodies 5
extrude "Extrude15" add 1 faces at (94.1839, -50.0217, 7.2) along direction (0, 0, 1) blind 0.5 on bodies 5 bodies 5
